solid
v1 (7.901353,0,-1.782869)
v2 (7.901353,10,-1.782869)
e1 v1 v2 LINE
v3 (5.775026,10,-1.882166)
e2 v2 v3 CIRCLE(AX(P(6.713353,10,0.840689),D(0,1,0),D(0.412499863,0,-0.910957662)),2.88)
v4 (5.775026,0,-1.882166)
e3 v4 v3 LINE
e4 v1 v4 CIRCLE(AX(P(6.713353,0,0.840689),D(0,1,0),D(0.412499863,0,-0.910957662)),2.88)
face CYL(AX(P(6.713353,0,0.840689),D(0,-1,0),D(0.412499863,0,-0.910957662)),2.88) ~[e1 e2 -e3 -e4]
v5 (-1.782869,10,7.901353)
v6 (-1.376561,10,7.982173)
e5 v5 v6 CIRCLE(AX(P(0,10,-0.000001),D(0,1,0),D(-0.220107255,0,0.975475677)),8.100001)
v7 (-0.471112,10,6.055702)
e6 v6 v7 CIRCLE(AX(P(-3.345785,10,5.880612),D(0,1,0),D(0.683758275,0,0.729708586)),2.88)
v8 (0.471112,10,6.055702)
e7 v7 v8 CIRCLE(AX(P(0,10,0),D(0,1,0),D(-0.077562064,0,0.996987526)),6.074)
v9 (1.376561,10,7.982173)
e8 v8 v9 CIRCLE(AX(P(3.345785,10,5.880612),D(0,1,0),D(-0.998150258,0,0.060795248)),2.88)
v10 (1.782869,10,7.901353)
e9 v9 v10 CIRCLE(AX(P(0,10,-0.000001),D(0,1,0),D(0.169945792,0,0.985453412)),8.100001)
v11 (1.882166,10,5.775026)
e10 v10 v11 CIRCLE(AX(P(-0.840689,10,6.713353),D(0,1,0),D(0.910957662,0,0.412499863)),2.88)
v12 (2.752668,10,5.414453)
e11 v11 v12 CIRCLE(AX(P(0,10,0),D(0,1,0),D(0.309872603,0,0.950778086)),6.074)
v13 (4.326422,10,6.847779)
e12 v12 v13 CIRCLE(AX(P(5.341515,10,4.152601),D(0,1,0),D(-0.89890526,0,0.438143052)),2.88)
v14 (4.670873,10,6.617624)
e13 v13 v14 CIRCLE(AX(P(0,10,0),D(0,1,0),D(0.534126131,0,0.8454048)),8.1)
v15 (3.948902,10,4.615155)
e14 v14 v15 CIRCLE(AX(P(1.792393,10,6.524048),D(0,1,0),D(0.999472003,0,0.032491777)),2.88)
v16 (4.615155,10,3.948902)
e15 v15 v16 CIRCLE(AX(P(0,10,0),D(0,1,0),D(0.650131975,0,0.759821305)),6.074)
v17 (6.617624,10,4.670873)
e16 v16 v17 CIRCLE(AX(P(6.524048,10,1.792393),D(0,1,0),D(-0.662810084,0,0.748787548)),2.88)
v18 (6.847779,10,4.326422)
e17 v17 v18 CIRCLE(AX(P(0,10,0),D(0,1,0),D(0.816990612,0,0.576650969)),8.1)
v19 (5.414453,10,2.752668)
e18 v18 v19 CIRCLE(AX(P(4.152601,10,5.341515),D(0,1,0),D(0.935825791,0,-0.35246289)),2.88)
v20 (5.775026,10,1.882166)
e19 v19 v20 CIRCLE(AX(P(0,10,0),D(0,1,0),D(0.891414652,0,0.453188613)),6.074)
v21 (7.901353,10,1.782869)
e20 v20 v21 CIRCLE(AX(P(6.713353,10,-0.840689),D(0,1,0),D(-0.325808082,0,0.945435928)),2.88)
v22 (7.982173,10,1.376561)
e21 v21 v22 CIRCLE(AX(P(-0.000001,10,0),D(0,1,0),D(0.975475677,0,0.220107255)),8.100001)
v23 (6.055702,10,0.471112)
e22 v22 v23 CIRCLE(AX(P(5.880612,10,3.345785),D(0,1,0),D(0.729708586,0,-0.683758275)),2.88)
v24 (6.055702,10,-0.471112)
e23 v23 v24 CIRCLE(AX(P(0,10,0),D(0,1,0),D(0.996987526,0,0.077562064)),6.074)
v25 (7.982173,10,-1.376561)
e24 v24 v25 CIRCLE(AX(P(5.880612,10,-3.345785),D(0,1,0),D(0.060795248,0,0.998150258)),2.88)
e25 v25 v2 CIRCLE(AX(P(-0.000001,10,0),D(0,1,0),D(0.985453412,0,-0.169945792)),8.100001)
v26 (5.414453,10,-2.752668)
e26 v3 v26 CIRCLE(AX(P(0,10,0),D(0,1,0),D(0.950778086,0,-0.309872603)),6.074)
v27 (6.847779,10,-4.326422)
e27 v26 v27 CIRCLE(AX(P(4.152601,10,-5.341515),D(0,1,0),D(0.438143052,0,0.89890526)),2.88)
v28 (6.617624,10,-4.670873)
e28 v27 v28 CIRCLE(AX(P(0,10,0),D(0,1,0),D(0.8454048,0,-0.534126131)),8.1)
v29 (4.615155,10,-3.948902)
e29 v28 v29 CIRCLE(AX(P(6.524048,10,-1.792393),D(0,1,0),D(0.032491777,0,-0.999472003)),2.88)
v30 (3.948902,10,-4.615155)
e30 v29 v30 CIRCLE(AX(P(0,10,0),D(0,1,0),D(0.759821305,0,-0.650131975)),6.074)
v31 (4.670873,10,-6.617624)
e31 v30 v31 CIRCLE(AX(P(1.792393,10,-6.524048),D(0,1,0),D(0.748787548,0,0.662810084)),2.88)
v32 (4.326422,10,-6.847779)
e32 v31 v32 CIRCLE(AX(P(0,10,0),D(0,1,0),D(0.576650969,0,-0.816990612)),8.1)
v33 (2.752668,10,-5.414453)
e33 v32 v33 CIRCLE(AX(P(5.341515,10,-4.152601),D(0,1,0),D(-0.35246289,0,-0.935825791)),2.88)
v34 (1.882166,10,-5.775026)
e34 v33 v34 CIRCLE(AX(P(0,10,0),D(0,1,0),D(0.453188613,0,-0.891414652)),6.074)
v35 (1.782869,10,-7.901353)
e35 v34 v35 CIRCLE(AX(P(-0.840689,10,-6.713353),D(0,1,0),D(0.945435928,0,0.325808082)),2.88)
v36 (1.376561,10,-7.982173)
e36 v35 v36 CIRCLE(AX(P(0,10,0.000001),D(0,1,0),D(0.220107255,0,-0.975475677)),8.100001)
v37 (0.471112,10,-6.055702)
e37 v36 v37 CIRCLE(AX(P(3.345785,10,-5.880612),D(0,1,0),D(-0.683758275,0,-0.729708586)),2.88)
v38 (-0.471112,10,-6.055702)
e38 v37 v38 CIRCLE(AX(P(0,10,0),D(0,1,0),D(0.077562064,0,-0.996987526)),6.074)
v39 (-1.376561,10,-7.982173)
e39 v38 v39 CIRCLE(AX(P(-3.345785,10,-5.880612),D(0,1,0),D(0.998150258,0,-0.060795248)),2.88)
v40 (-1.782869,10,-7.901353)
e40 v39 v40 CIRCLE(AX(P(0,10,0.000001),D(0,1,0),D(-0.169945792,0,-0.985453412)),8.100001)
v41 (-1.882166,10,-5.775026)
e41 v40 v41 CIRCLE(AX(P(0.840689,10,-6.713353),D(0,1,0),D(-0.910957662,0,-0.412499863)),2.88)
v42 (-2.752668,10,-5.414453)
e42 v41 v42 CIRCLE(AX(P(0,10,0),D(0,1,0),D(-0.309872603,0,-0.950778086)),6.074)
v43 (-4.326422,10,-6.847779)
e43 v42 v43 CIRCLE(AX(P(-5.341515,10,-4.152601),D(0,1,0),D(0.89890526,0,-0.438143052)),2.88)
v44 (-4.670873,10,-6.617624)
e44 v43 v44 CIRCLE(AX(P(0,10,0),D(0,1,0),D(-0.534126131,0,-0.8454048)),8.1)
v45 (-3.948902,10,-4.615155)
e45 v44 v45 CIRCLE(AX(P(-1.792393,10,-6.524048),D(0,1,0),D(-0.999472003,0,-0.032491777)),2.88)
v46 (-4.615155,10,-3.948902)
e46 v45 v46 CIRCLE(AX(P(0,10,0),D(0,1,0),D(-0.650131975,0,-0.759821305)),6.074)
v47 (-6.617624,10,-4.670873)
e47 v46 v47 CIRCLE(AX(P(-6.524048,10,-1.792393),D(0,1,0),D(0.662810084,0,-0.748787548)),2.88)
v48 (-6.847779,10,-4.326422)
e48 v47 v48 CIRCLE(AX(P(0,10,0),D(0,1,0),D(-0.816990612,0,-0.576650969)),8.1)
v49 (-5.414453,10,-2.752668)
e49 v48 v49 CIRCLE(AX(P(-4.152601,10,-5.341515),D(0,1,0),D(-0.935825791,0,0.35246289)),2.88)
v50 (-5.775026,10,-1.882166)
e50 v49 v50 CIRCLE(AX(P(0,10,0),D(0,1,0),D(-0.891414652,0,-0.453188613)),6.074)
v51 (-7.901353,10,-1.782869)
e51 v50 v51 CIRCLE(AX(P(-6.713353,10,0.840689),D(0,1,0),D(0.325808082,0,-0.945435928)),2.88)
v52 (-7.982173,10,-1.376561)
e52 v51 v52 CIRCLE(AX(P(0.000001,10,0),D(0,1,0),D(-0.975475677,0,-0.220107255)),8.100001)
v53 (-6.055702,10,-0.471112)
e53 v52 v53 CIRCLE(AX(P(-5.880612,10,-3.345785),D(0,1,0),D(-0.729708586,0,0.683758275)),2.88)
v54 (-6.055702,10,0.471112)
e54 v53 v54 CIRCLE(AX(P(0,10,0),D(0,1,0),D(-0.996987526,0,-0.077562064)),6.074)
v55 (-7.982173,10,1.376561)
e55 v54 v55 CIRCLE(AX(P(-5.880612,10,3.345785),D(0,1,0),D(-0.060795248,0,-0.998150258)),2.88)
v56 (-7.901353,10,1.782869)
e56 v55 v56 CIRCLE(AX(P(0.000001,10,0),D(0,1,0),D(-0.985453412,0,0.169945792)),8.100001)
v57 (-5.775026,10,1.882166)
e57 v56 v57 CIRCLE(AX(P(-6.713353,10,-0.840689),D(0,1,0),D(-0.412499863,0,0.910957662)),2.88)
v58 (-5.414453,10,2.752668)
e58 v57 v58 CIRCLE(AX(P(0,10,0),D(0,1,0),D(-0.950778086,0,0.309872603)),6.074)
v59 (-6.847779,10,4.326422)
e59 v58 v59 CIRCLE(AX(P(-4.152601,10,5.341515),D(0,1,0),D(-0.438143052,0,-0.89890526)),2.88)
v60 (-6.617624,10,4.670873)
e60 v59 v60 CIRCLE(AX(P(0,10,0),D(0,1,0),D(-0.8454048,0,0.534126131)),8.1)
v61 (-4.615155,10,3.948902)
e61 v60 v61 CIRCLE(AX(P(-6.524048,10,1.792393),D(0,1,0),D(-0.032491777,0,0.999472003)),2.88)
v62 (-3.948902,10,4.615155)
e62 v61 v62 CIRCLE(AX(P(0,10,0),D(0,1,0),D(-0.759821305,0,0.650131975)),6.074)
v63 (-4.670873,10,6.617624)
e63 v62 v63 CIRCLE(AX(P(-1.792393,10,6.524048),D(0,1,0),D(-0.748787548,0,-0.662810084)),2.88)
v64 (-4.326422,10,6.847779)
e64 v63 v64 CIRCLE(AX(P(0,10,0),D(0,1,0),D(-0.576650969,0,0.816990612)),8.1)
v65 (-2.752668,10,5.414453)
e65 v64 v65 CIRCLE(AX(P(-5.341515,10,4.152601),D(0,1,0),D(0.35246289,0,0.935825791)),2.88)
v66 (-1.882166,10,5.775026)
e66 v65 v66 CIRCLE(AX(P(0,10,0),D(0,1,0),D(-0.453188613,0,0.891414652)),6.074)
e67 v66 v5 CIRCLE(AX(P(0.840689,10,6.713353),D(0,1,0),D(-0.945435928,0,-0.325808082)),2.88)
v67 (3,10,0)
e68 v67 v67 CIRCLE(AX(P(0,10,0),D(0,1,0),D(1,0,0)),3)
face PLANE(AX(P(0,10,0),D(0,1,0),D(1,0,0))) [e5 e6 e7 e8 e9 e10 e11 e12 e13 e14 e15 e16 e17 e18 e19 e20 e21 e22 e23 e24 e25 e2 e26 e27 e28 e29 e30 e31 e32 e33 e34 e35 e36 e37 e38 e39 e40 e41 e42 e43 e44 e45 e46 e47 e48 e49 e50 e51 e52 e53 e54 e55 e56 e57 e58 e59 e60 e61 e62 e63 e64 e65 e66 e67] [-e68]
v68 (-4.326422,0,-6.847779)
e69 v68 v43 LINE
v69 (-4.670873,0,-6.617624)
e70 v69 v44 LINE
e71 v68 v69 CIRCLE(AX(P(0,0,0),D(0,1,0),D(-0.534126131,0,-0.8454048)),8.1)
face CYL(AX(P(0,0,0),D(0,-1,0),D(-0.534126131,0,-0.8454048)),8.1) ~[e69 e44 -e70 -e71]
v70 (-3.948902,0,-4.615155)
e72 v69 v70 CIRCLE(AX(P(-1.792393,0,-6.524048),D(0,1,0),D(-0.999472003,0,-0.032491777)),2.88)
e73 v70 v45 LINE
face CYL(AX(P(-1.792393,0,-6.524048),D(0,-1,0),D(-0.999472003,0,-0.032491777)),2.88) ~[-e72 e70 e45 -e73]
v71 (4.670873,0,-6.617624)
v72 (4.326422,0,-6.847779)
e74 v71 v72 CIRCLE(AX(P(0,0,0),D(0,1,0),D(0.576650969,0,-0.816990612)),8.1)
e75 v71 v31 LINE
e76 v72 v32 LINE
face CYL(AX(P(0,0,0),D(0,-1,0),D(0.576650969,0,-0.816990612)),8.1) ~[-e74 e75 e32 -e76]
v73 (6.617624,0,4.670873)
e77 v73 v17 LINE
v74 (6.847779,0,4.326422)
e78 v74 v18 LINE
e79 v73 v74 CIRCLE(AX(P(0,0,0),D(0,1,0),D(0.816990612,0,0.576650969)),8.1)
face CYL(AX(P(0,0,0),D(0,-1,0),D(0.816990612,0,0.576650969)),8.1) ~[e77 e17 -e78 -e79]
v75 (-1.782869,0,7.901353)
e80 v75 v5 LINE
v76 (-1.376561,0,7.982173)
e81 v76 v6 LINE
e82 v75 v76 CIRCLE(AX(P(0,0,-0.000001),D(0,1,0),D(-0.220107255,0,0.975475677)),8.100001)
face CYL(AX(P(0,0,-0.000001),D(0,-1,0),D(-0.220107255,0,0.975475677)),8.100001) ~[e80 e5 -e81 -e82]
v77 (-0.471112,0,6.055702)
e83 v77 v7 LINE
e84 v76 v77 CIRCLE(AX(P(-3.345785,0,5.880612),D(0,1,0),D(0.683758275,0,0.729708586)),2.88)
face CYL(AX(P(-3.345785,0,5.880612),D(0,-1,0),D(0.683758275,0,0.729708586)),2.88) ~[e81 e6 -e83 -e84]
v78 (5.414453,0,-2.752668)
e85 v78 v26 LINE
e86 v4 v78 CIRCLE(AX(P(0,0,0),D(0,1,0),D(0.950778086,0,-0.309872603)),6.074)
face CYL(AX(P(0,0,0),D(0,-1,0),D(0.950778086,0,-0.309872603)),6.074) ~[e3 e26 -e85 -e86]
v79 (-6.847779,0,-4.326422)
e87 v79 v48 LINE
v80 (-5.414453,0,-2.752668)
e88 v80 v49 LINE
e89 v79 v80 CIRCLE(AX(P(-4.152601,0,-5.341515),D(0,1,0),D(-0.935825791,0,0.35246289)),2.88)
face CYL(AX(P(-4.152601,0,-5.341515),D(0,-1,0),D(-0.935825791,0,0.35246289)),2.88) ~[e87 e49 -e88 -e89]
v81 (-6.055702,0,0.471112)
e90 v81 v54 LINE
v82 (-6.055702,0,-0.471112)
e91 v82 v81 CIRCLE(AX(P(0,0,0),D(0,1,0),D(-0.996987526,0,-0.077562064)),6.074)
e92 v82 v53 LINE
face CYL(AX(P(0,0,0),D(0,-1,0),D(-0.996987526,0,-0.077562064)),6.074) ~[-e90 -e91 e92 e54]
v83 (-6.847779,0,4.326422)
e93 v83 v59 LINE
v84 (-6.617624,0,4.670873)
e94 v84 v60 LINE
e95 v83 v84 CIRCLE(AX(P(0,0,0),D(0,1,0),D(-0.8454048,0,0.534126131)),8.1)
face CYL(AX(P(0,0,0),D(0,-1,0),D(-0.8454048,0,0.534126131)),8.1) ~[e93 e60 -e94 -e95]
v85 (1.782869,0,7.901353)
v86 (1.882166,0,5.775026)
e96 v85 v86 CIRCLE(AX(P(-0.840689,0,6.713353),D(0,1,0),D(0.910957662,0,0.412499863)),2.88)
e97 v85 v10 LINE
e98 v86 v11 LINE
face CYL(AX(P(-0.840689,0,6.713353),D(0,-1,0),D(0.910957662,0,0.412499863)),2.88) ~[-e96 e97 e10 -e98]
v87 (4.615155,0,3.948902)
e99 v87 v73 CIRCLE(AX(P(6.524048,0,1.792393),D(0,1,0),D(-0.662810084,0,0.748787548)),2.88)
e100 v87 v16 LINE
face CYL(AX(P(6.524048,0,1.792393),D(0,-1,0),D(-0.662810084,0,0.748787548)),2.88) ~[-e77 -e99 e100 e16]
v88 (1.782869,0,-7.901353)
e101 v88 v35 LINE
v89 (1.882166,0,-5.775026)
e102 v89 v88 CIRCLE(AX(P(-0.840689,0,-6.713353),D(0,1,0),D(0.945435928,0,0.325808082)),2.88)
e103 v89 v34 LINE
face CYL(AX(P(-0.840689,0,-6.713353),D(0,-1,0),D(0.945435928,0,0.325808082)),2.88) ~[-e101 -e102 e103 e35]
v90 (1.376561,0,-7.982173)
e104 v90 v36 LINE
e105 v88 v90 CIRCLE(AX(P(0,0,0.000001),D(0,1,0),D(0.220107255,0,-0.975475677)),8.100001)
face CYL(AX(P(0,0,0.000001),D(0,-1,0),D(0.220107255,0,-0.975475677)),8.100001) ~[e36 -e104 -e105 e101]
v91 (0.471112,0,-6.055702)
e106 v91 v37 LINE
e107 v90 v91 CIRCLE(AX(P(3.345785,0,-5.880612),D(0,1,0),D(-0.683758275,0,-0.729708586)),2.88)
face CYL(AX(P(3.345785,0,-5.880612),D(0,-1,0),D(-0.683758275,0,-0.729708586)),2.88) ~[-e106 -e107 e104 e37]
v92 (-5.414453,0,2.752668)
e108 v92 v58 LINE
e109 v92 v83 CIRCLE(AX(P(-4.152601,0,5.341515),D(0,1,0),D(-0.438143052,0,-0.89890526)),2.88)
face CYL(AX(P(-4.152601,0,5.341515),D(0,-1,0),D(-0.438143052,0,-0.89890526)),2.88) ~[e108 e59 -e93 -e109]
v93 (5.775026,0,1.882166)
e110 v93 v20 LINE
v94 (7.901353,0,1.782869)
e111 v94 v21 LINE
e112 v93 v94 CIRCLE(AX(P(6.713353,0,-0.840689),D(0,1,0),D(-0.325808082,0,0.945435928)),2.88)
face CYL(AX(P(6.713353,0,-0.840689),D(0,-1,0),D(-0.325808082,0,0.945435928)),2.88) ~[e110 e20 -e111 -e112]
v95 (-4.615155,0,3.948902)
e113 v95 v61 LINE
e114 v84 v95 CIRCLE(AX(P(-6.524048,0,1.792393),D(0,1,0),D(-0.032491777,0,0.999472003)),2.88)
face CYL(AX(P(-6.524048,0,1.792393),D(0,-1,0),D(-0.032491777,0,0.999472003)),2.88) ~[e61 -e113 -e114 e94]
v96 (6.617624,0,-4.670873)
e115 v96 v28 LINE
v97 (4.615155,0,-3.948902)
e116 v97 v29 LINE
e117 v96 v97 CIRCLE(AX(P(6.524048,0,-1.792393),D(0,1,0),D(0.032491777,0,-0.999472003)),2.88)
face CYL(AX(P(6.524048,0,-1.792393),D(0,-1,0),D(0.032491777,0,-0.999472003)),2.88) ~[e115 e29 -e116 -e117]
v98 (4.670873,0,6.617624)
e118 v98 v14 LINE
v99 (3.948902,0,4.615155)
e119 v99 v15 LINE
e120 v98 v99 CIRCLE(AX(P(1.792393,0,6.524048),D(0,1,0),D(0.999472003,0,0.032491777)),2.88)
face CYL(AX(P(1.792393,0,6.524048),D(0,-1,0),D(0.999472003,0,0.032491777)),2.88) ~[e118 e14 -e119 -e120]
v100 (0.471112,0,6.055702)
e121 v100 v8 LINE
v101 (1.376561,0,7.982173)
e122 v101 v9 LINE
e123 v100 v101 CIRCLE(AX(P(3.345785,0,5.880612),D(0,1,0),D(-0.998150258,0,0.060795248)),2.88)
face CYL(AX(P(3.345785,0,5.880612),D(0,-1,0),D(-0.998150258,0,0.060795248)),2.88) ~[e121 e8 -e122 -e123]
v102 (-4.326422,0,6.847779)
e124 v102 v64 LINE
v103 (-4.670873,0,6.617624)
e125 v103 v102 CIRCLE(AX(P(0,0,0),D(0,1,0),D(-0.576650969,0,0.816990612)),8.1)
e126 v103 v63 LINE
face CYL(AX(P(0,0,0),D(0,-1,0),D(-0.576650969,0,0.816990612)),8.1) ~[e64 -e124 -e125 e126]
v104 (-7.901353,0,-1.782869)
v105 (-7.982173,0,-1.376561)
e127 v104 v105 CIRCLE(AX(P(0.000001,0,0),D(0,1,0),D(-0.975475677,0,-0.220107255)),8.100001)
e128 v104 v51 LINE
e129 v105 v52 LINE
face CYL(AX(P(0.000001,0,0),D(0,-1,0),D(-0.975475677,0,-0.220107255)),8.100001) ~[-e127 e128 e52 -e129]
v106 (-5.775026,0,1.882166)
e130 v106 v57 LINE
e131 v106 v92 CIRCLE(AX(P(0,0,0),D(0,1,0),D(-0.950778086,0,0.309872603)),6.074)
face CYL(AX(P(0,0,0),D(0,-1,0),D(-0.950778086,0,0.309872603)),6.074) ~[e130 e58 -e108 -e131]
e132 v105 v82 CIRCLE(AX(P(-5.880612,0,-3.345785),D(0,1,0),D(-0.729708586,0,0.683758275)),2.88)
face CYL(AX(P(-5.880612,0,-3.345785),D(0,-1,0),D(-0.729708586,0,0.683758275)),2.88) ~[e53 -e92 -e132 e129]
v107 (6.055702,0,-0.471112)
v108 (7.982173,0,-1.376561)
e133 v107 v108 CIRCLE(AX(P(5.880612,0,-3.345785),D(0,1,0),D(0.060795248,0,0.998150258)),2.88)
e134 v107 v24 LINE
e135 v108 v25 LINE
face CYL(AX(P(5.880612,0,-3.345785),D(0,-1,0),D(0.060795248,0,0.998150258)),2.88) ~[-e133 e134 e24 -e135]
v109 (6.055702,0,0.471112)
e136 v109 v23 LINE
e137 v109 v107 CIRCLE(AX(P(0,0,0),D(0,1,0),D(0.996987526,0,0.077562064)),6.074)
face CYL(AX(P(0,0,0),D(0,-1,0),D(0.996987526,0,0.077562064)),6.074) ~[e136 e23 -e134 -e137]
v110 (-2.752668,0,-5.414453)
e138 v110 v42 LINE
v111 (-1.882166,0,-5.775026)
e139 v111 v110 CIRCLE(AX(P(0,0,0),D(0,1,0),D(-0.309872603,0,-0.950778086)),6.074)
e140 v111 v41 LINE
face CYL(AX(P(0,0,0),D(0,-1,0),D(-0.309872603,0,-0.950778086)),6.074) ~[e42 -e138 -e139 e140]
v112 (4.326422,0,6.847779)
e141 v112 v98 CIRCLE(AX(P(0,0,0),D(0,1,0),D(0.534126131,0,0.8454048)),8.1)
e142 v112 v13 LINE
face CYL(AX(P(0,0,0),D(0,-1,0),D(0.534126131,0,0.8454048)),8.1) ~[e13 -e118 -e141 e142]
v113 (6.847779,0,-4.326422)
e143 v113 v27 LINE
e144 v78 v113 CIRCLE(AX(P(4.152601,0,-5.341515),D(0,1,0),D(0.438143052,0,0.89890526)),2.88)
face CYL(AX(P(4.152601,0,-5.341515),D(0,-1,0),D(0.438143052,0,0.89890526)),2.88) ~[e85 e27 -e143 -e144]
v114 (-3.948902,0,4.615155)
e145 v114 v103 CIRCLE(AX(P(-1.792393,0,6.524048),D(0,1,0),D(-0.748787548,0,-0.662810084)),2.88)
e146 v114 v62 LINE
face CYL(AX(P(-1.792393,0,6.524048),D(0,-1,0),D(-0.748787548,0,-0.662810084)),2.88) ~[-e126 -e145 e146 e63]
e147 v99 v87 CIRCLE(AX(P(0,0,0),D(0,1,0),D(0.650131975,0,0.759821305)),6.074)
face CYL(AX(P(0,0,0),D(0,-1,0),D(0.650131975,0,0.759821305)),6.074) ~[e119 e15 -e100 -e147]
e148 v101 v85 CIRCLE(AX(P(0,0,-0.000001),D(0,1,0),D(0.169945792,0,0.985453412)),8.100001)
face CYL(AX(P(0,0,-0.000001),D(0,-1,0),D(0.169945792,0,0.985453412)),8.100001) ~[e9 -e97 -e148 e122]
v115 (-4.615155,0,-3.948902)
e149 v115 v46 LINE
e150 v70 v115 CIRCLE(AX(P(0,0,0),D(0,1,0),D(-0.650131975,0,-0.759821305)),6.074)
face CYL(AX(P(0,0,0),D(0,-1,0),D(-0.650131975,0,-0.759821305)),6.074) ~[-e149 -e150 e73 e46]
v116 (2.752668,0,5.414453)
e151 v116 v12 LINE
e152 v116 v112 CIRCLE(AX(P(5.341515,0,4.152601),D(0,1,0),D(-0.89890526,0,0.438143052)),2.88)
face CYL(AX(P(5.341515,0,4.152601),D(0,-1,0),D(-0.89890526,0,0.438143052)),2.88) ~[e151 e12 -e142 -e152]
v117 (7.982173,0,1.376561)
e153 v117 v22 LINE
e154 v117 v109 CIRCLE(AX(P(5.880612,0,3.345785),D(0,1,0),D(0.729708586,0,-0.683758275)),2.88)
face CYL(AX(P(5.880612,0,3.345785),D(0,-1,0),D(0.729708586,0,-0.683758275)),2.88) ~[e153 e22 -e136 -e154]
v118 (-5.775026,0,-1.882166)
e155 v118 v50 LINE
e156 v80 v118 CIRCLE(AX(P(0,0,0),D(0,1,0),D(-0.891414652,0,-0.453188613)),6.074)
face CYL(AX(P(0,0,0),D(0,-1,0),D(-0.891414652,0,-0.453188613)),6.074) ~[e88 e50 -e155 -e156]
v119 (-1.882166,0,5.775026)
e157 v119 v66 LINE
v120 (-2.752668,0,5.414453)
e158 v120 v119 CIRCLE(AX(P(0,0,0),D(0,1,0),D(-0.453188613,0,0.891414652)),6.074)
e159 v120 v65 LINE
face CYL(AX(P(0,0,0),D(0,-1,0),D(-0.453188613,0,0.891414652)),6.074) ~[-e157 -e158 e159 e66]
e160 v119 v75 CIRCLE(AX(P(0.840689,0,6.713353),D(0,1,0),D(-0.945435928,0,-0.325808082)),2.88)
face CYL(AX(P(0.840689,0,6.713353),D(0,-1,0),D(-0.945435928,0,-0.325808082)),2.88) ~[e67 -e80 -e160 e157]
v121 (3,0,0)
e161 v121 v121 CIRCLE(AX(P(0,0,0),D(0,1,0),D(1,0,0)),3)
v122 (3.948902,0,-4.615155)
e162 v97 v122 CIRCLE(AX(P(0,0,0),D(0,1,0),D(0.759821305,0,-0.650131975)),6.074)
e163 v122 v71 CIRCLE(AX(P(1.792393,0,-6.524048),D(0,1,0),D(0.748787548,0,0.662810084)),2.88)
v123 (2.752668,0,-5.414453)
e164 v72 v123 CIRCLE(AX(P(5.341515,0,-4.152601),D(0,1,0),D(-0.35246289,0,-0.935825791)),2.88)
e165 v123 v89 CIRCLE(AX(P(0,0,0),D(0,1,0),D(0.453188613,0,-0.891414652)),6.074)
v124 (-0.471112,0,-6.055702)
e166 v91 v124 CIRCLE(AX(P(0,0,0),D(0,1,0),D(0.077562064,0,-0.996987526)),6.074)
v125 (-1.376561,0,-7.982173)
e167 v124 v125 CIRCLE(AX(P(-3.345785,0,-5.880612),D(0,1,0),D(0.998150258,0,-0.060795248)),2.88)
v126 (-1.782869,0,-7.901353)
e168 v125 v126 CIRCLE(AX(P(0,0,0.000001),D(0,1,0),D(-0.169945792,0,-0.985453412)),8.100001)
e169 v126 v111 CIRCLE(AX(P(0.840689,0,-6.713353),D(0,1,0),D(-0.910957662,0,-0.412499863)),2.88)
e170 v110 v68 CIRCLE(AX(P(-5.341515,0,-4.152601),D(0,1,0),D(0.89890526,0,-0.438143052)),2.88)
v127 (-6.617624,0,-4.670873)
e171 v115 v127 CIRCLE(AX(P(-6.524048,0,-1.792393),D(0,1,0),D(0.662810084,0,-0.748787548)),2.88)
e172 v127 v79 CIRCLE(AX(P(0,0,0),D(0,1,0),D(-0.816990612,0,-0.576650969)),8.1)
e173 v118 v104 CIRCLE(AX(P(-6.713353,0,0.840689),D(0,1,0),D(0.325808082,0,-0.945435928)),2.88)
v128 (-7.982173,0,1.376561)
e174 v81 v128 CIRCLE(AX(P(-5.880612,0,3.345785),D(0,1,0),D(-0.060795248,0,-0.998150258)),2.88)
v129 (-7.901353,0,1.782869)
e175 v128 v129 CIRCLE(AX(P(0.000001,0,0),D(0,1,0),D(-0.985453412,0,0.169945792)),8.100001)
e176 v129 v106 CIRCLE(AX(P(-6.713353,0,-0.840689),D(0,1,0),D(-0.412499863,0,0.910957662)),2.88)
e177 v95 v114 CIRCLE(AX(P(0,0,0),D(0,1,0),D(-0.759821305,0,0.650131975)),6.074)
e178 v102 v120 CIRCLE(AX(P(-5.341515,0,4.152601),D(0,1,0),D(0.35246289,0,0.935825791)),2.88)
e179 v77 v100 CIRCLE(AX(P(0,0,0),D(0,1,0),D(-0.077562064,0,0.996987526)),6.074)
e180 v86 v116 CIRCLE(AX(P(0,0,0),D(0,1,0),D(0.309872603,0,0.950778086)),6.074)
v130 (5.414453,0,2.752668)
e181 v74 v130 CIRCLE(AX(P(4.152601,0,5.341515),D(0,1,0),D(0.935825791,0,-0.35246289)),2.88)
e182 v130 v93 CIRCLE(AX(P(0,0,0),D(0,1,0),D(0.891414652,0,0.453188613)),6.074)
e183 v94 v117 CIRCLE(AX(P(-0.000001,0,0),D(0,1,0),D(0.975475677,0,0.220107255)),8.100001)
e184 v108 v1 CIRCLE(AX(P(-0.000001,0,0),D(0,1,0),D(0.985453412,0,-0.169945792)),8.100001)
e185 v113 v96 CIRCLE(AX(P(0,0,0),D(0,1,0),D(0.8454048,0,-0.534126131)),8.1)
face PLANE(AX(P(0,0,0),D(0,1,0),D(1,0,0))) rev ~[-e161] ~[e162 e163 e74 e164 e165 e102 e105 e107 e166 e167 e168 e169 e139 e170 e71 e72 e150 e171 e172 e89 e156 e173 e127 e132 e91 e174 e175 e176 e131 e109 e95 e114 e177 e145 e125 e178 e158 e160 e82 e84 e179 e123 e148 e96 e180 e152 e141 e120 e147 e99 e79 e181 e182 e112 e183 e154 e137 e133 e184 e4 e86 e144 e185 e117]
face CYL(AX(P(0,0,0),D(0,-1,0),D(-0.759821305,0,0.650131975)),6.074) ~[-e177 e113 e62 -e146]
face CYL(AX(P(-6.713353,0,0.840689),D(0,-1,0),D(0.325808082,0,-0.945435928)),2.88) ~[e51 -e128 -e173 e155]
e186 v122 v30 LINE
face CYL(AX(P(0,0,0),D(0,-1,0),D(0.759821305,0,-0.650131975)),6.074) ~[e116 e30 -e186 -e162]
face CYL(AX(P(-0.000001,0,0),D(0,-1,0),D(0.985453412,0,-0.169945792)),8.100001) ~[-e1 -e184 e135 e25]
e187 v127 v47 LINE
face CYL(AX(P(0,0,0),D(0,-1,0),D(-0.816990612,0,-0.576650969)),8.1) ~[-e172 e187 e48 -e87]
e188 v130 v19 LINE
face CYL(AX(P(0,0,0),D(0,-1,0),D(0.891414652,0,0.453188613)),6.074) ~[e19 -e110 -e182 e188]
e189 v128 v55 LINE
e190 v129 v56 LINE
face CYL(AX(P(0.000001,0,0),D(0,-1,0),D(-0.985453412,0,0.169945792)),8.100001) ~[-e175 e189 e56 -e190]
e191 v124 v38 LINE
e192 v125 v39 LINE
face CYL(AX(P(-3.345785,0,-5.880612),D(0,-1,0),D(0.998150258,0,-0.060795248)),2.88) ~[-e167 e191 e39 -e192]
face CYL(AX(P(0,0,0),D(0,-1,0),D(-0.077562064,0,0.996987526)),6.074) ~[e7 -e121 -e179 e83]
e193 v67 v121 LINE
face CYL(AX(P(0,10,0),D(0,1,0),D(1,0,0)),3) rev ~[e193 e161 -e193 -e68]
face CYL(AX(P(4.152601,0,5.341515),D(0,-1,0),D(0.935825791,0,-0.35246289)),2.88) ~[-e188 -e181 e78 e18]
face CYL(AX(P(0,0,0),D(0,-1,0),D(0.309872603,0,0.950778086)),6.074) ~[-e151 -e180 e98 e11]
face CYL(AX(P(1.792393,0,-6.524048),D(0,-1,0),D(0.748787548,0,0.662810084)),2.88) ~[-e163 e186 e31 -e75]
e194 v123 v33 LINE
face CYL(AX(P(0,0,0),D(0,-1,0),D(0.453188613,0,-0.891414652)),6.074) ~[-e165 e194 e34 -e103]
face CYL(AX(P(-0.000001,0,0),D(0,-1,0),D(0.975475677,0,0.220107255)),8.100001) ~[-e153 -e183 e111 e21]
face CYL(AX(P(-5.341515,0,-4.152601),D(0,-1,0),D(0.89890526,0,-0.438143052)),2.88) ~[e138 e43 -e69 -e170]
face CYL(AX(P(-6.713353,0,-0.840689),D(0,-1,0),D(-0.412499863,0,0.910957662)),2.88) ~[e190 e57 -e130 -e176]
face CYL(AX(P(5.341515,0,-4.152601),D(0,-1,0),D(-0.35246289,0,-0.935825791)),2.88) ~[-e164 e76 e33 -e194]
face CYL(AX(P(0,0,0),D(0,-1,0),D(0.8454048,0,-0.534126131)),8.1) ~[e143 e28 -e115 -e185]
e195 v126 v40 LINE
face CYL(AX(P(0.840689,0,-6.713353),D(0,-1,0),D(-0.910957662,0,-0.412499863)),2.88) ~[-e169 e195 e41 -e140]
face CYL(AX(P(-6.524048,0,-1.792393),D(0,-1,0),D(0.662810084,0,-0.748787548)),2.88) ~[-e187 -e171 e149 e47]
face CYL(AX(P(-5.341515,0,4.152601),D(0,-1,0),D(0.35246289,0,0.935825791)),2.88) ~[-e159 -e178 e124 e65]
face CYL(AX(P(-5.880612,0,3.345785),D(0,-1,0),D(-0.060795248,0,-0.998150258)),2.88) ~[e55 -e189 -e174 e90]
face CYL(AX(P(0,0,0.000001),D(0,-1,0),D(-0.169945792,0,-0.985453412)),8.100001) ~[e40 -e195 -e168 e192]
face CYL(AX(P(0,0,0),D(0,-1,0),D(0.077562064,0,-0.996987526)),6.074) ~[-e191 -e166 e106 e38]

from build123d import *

# Parameters (mm, degrees)
BOSS_EXTRUDE1_DEPTH = 10
SKETCH2_R           = 3
CUT_EXTRUDE1_DEPTH  = 10


with BuildPart() as part:
    # Sketch1 → Boss-Extrude1 (new body)
    with BuildSketch(Plane(origin=(0, 0, 0), x_dir=(1, 0, 0), z_dir=(0, 1, 0))):
        with BuildLine():
            ThreePointArc((-7.982172642, 1.3765609), (-7.105660658, 0.739320543), (-6.05570223, 0.47111199))
            ThreePointArc((-6.05570223, 0.47111199), (-6.074, 0), (-6.05570223, -0.47111199))
            ThreePointArc((-6.05570223, -0.47111199), (-7.105660658, -0.739320543), (-7.982172642, -1.3765609))
            ThreePointArc((-7.982172642, -1.3765609), (-7.944360771, -1.580231608), (-7.901352979, -1.782868784))
            ThreePointArc((-7.901352979, -1.782868784), (-6.84770017, -2.036175492), (-5.775026098, -1.882166189))
            ThreePointArc((-5.775026098, -1.882166189), (-5.61164428, -2.324419168), (-5.414452591, -2.75266764))
            ThreePointArc((-5.414452591, -2.75266764), (-6.281848724, -3.402261728), (-6.847778879, -4.326421665))
            ThreePointArc((-6.847778879, -4.326421665), (-6.73490386, -4.500118887), (-6.617623951, -4.670872857))
            ThreePointArc((-6.617623951, -4.670872857), (-5.547239406, -4.501682267), (-4.615154594, -3.948901628))
            ThreePointArc((-4.615154594, -3.948901628), (-4.294966589, -4.294966589), (-3.948901628, -4.615154594))
            ThreePointArc((-3.948901628, -4.615154594), (-4.501682267, -5.547239406), (-4.670872857, -6.617623951))
            ThreePointArc((-4.670872857, -6.617623951), (-4.500118887, -6.73490386), (-4.326421665, -6.847778879))
            ThreePointArc((-4.326421665, -6.847778879), (-3.402261728, -6.281848724), (-2.75266764, -5.414452591))
            ThreePointArc((-2.75266764, -5.414452591), (-2.324419168, -5.61164428), (-1.882166189, -5.775026098))
            ThreePointArc((-1.882166189, -5.775026098), (-2.036175492, -6.84770017), (-1.782868784, -7.901352979))
            ThreePointArc((-1.782868784, -7.901352979), (-1.580231608, -7.944360771), (-1.3765609, -7.982172642))
            ThreePointArc((-1.3765609, -7.982172642), (-0.739320543, -7.105660658), (-0.47111199, -6.05570223))
            ThreePointArc((-0.47111199, -6.05570223), (0, -6.074), (0.47111199, -6.05570223))
            ThreePointArc((0.47111199, -6.05570223), (0.739320543, -7.105660658), (1.3765609, -7.982172642))
            ThreePointArc((1.3765609, -7.982172642), (1.580231608, -7.944360771), (1.782868784, -7.901352979))
            ThreePointArc((1.782868784, -7.901352979), (2.036175492, -6.84770017), (1.882166189, -5.775026098))
            ThreePointArc((1.882166189, -5.775026098), (2.324419168, -5.61164428), (2.75266764, -5.414452591))
            ThreePointArc((2.75266764, -5.414452591), (3.402261728, -6.281848724), (4.326421665, -6.847778879))
            ThreePointArc((4.326421665, -6.847778879), (4.500118887, -6.73490386), (4.670872857, -6.617623951))
            ThreePointArc((4.670872857, -6.617623951), (4.501682267, -5.547239406), (3.948901628, -4.615154594))
            ThreePointArc((3.948901628, -4.615154594), (4.294966589, -4.294966589), (4.615154594, -3.948901628))
            ThreePointArc((4.615154594, -3.948901628), (5.547239406, -4.501682267), (6.617623951, -4.670872857))
            ThreePointArc((6.617623951, -4.670872857), (6.73490386, -4.500118887), (6.847778879, -4.326421665))
            ThreePointArc((6.847778879, -4.326421665), (6.281848724, -3.402261728), (5.414452591, -2.75266764))
            ThreePointArc((5.414452591, -2.75266764), (5.61164428, -2.324419168), (5.775026098, -1.882166189))
            ThreePointArc((5.775026098, -1.882166189), (6.84770017, -2.036175492), (7.901352979, -1.782868784))
            ThreePointArc((7.901352979, -1.782868784), (7.944360771, -1.580231608), (7.982172642, -1.3765609))
            ThreePointArc((7.982172642, -1.3765609), (7.105660658, -0.739320543), (6.05570223, -0.47111199))
            ThreePointArc((6.05570223, -0.47111199), (6.074, 0), (6.05570223, 0.47111199))
            ThreePointArc((6.05570223, 0.47111199), (7.105660658, 0.739320543), (7.982172642, 1.3765609))
            ThreePointArc((7.982172642, 1.3765609), (7.944360771, 1.580231608), (7.901352979, 1.782868784))
            ThreePointArc((7.901352979, 1.782868784), (6.84770017, 2.036175492), (5.775026098, 1.882166189))
            ThreePointArc((5.775026098, 1.882166189), (5.61164428, 2.324419168), (5.414452591, 2.75266764))
            ThreePointArc((5.414452591, 2.75266764), (6.281848724, 3.402261728), (6.847778879, 4.326421665))
            ThreePointArc((6.847778879, 4.326421665), (6.73490386, 4.500118887), (6.617623951, 4.670872857))
            ThreePointArc((6.617623951, 4.670872857), (5.547239406, 4.501682267), (4.615154594, 3.948901628))
            ThreePointArc((4.615154594, 3.948901628), (4.294966589, 4.294966589), (3.948901628, 4.615154594))
            ThreePointArc((3.948901628, 4.615154594), (4.501682267, 5.547239406), (4.670872857, 6.617623951))
            ThreePointArc((4.670872857, 6.617623951), (4.500118887, 6.73490386), (4.326421665, 6.847778879))
            ThreePointArc((4.326421665, 6.847778879), (3.402261728, 6.281848724), (2.75266764, 5.414452591))
            ThreePointArc((2.75266764, 5.414452591), (2.324419168, 5.61164428), (1.882166189, 5.775026098))
            ThreePointArc((1.882166189, 5.775026098), (2.036175492, 6.84770017), (1.782868784, 7.901352979))
            ThreePointArc((1.782868784, 7.901352979), (1.580231608, 7.944360771), (1.3765609, 7.982172642))
            ThreePointArc((1.3765609, 7.982172642), (0.739320543, 7.105660658), (0.47111199, 6.05570223))
            ThreePointArc((0.47111199, 6.05570223), (0, 6.074), (-0.47111199, 6.05570223))
            ThreePointArc((-0.47111199, 6.05570223), (-0.739320543, 7.105660658), (-1.3765609, 7.982172642))
            ThreePointArc((-1.3765609, 7.982172642), (-1.580231608, 7.944360771), (-1.782868784, 7.901352979))
            ThreePointArc((-1.782868784, 7.901352979), (-2.036175492, 6.84770017), (-1.882166189, 5.775026098))
            ThreePointArc((-1.882166189, 5.775026098), (-2.324419168, 5.61164428), (-2.75266764, 5.414452591))
            ThreePointArc((-2.75266764, 5.414452591), (-3.402261728, 6.281848724), (-4.326421665, 6.847778879))
            ThreePointArc((-4.326421665, 6.847778879), (-4.500118887, 6.73490386), (-4.670872857, 6.617623951))
            ThreePointArc((-4.670872857, 6.617623951), (-4.501682267, 5.547239406), (-3.948901628, 4.615154594))
            ThreePointArc((-3.948901628, 4.615154594), (-4.294966589, 4.294966589), (-4.615154594, 3.948901628))
            ThreePointArc((-4.615154594, 3.948901628), (-5.547239406, 4.501682267), (-6.617623951, 4.670872857))
            ThreePointArc((-6.617623951, 4.670872857), (-6.73490386, 4.500118887), (-6.847778879, 4.326421665))
            ThreePointArc((-6.847778879, 4.326421665), (-6.281848724, 3.402261728), (-5.414452591, 2.75266764))
            ThreePointArc((-5.414452591, 2.75266764), (-5.61164428, 2.324419168), (-5.775026098, 1.882166189))
            ThreePointArc((-5.775026098, 1.882166189), (-6.84770017, 2.036175492), (-7.901352979, 1.782868784))
            ThreePointArc((-7.901352979, 1.782868784), (-7.944360771, 1.580231608), (-7.982172642, 1.3765609))
        make_face()
    extrude(amount=BOSS_EXTRUDE1_DEPTH)

    # Sketch2 → Cut-Extrude1 (cut)
    with BuildSketch(Plane(origin=(0, 10, 0), x_dir=(1, 0, 0), z_dir=(0, 1, 0))):
        Circle(SKETCH2_R)
    extrude(amount=-CUT_EXTRUDE1_DEPTH, mode=Mode.SUBTRACT)


solid = part.part
